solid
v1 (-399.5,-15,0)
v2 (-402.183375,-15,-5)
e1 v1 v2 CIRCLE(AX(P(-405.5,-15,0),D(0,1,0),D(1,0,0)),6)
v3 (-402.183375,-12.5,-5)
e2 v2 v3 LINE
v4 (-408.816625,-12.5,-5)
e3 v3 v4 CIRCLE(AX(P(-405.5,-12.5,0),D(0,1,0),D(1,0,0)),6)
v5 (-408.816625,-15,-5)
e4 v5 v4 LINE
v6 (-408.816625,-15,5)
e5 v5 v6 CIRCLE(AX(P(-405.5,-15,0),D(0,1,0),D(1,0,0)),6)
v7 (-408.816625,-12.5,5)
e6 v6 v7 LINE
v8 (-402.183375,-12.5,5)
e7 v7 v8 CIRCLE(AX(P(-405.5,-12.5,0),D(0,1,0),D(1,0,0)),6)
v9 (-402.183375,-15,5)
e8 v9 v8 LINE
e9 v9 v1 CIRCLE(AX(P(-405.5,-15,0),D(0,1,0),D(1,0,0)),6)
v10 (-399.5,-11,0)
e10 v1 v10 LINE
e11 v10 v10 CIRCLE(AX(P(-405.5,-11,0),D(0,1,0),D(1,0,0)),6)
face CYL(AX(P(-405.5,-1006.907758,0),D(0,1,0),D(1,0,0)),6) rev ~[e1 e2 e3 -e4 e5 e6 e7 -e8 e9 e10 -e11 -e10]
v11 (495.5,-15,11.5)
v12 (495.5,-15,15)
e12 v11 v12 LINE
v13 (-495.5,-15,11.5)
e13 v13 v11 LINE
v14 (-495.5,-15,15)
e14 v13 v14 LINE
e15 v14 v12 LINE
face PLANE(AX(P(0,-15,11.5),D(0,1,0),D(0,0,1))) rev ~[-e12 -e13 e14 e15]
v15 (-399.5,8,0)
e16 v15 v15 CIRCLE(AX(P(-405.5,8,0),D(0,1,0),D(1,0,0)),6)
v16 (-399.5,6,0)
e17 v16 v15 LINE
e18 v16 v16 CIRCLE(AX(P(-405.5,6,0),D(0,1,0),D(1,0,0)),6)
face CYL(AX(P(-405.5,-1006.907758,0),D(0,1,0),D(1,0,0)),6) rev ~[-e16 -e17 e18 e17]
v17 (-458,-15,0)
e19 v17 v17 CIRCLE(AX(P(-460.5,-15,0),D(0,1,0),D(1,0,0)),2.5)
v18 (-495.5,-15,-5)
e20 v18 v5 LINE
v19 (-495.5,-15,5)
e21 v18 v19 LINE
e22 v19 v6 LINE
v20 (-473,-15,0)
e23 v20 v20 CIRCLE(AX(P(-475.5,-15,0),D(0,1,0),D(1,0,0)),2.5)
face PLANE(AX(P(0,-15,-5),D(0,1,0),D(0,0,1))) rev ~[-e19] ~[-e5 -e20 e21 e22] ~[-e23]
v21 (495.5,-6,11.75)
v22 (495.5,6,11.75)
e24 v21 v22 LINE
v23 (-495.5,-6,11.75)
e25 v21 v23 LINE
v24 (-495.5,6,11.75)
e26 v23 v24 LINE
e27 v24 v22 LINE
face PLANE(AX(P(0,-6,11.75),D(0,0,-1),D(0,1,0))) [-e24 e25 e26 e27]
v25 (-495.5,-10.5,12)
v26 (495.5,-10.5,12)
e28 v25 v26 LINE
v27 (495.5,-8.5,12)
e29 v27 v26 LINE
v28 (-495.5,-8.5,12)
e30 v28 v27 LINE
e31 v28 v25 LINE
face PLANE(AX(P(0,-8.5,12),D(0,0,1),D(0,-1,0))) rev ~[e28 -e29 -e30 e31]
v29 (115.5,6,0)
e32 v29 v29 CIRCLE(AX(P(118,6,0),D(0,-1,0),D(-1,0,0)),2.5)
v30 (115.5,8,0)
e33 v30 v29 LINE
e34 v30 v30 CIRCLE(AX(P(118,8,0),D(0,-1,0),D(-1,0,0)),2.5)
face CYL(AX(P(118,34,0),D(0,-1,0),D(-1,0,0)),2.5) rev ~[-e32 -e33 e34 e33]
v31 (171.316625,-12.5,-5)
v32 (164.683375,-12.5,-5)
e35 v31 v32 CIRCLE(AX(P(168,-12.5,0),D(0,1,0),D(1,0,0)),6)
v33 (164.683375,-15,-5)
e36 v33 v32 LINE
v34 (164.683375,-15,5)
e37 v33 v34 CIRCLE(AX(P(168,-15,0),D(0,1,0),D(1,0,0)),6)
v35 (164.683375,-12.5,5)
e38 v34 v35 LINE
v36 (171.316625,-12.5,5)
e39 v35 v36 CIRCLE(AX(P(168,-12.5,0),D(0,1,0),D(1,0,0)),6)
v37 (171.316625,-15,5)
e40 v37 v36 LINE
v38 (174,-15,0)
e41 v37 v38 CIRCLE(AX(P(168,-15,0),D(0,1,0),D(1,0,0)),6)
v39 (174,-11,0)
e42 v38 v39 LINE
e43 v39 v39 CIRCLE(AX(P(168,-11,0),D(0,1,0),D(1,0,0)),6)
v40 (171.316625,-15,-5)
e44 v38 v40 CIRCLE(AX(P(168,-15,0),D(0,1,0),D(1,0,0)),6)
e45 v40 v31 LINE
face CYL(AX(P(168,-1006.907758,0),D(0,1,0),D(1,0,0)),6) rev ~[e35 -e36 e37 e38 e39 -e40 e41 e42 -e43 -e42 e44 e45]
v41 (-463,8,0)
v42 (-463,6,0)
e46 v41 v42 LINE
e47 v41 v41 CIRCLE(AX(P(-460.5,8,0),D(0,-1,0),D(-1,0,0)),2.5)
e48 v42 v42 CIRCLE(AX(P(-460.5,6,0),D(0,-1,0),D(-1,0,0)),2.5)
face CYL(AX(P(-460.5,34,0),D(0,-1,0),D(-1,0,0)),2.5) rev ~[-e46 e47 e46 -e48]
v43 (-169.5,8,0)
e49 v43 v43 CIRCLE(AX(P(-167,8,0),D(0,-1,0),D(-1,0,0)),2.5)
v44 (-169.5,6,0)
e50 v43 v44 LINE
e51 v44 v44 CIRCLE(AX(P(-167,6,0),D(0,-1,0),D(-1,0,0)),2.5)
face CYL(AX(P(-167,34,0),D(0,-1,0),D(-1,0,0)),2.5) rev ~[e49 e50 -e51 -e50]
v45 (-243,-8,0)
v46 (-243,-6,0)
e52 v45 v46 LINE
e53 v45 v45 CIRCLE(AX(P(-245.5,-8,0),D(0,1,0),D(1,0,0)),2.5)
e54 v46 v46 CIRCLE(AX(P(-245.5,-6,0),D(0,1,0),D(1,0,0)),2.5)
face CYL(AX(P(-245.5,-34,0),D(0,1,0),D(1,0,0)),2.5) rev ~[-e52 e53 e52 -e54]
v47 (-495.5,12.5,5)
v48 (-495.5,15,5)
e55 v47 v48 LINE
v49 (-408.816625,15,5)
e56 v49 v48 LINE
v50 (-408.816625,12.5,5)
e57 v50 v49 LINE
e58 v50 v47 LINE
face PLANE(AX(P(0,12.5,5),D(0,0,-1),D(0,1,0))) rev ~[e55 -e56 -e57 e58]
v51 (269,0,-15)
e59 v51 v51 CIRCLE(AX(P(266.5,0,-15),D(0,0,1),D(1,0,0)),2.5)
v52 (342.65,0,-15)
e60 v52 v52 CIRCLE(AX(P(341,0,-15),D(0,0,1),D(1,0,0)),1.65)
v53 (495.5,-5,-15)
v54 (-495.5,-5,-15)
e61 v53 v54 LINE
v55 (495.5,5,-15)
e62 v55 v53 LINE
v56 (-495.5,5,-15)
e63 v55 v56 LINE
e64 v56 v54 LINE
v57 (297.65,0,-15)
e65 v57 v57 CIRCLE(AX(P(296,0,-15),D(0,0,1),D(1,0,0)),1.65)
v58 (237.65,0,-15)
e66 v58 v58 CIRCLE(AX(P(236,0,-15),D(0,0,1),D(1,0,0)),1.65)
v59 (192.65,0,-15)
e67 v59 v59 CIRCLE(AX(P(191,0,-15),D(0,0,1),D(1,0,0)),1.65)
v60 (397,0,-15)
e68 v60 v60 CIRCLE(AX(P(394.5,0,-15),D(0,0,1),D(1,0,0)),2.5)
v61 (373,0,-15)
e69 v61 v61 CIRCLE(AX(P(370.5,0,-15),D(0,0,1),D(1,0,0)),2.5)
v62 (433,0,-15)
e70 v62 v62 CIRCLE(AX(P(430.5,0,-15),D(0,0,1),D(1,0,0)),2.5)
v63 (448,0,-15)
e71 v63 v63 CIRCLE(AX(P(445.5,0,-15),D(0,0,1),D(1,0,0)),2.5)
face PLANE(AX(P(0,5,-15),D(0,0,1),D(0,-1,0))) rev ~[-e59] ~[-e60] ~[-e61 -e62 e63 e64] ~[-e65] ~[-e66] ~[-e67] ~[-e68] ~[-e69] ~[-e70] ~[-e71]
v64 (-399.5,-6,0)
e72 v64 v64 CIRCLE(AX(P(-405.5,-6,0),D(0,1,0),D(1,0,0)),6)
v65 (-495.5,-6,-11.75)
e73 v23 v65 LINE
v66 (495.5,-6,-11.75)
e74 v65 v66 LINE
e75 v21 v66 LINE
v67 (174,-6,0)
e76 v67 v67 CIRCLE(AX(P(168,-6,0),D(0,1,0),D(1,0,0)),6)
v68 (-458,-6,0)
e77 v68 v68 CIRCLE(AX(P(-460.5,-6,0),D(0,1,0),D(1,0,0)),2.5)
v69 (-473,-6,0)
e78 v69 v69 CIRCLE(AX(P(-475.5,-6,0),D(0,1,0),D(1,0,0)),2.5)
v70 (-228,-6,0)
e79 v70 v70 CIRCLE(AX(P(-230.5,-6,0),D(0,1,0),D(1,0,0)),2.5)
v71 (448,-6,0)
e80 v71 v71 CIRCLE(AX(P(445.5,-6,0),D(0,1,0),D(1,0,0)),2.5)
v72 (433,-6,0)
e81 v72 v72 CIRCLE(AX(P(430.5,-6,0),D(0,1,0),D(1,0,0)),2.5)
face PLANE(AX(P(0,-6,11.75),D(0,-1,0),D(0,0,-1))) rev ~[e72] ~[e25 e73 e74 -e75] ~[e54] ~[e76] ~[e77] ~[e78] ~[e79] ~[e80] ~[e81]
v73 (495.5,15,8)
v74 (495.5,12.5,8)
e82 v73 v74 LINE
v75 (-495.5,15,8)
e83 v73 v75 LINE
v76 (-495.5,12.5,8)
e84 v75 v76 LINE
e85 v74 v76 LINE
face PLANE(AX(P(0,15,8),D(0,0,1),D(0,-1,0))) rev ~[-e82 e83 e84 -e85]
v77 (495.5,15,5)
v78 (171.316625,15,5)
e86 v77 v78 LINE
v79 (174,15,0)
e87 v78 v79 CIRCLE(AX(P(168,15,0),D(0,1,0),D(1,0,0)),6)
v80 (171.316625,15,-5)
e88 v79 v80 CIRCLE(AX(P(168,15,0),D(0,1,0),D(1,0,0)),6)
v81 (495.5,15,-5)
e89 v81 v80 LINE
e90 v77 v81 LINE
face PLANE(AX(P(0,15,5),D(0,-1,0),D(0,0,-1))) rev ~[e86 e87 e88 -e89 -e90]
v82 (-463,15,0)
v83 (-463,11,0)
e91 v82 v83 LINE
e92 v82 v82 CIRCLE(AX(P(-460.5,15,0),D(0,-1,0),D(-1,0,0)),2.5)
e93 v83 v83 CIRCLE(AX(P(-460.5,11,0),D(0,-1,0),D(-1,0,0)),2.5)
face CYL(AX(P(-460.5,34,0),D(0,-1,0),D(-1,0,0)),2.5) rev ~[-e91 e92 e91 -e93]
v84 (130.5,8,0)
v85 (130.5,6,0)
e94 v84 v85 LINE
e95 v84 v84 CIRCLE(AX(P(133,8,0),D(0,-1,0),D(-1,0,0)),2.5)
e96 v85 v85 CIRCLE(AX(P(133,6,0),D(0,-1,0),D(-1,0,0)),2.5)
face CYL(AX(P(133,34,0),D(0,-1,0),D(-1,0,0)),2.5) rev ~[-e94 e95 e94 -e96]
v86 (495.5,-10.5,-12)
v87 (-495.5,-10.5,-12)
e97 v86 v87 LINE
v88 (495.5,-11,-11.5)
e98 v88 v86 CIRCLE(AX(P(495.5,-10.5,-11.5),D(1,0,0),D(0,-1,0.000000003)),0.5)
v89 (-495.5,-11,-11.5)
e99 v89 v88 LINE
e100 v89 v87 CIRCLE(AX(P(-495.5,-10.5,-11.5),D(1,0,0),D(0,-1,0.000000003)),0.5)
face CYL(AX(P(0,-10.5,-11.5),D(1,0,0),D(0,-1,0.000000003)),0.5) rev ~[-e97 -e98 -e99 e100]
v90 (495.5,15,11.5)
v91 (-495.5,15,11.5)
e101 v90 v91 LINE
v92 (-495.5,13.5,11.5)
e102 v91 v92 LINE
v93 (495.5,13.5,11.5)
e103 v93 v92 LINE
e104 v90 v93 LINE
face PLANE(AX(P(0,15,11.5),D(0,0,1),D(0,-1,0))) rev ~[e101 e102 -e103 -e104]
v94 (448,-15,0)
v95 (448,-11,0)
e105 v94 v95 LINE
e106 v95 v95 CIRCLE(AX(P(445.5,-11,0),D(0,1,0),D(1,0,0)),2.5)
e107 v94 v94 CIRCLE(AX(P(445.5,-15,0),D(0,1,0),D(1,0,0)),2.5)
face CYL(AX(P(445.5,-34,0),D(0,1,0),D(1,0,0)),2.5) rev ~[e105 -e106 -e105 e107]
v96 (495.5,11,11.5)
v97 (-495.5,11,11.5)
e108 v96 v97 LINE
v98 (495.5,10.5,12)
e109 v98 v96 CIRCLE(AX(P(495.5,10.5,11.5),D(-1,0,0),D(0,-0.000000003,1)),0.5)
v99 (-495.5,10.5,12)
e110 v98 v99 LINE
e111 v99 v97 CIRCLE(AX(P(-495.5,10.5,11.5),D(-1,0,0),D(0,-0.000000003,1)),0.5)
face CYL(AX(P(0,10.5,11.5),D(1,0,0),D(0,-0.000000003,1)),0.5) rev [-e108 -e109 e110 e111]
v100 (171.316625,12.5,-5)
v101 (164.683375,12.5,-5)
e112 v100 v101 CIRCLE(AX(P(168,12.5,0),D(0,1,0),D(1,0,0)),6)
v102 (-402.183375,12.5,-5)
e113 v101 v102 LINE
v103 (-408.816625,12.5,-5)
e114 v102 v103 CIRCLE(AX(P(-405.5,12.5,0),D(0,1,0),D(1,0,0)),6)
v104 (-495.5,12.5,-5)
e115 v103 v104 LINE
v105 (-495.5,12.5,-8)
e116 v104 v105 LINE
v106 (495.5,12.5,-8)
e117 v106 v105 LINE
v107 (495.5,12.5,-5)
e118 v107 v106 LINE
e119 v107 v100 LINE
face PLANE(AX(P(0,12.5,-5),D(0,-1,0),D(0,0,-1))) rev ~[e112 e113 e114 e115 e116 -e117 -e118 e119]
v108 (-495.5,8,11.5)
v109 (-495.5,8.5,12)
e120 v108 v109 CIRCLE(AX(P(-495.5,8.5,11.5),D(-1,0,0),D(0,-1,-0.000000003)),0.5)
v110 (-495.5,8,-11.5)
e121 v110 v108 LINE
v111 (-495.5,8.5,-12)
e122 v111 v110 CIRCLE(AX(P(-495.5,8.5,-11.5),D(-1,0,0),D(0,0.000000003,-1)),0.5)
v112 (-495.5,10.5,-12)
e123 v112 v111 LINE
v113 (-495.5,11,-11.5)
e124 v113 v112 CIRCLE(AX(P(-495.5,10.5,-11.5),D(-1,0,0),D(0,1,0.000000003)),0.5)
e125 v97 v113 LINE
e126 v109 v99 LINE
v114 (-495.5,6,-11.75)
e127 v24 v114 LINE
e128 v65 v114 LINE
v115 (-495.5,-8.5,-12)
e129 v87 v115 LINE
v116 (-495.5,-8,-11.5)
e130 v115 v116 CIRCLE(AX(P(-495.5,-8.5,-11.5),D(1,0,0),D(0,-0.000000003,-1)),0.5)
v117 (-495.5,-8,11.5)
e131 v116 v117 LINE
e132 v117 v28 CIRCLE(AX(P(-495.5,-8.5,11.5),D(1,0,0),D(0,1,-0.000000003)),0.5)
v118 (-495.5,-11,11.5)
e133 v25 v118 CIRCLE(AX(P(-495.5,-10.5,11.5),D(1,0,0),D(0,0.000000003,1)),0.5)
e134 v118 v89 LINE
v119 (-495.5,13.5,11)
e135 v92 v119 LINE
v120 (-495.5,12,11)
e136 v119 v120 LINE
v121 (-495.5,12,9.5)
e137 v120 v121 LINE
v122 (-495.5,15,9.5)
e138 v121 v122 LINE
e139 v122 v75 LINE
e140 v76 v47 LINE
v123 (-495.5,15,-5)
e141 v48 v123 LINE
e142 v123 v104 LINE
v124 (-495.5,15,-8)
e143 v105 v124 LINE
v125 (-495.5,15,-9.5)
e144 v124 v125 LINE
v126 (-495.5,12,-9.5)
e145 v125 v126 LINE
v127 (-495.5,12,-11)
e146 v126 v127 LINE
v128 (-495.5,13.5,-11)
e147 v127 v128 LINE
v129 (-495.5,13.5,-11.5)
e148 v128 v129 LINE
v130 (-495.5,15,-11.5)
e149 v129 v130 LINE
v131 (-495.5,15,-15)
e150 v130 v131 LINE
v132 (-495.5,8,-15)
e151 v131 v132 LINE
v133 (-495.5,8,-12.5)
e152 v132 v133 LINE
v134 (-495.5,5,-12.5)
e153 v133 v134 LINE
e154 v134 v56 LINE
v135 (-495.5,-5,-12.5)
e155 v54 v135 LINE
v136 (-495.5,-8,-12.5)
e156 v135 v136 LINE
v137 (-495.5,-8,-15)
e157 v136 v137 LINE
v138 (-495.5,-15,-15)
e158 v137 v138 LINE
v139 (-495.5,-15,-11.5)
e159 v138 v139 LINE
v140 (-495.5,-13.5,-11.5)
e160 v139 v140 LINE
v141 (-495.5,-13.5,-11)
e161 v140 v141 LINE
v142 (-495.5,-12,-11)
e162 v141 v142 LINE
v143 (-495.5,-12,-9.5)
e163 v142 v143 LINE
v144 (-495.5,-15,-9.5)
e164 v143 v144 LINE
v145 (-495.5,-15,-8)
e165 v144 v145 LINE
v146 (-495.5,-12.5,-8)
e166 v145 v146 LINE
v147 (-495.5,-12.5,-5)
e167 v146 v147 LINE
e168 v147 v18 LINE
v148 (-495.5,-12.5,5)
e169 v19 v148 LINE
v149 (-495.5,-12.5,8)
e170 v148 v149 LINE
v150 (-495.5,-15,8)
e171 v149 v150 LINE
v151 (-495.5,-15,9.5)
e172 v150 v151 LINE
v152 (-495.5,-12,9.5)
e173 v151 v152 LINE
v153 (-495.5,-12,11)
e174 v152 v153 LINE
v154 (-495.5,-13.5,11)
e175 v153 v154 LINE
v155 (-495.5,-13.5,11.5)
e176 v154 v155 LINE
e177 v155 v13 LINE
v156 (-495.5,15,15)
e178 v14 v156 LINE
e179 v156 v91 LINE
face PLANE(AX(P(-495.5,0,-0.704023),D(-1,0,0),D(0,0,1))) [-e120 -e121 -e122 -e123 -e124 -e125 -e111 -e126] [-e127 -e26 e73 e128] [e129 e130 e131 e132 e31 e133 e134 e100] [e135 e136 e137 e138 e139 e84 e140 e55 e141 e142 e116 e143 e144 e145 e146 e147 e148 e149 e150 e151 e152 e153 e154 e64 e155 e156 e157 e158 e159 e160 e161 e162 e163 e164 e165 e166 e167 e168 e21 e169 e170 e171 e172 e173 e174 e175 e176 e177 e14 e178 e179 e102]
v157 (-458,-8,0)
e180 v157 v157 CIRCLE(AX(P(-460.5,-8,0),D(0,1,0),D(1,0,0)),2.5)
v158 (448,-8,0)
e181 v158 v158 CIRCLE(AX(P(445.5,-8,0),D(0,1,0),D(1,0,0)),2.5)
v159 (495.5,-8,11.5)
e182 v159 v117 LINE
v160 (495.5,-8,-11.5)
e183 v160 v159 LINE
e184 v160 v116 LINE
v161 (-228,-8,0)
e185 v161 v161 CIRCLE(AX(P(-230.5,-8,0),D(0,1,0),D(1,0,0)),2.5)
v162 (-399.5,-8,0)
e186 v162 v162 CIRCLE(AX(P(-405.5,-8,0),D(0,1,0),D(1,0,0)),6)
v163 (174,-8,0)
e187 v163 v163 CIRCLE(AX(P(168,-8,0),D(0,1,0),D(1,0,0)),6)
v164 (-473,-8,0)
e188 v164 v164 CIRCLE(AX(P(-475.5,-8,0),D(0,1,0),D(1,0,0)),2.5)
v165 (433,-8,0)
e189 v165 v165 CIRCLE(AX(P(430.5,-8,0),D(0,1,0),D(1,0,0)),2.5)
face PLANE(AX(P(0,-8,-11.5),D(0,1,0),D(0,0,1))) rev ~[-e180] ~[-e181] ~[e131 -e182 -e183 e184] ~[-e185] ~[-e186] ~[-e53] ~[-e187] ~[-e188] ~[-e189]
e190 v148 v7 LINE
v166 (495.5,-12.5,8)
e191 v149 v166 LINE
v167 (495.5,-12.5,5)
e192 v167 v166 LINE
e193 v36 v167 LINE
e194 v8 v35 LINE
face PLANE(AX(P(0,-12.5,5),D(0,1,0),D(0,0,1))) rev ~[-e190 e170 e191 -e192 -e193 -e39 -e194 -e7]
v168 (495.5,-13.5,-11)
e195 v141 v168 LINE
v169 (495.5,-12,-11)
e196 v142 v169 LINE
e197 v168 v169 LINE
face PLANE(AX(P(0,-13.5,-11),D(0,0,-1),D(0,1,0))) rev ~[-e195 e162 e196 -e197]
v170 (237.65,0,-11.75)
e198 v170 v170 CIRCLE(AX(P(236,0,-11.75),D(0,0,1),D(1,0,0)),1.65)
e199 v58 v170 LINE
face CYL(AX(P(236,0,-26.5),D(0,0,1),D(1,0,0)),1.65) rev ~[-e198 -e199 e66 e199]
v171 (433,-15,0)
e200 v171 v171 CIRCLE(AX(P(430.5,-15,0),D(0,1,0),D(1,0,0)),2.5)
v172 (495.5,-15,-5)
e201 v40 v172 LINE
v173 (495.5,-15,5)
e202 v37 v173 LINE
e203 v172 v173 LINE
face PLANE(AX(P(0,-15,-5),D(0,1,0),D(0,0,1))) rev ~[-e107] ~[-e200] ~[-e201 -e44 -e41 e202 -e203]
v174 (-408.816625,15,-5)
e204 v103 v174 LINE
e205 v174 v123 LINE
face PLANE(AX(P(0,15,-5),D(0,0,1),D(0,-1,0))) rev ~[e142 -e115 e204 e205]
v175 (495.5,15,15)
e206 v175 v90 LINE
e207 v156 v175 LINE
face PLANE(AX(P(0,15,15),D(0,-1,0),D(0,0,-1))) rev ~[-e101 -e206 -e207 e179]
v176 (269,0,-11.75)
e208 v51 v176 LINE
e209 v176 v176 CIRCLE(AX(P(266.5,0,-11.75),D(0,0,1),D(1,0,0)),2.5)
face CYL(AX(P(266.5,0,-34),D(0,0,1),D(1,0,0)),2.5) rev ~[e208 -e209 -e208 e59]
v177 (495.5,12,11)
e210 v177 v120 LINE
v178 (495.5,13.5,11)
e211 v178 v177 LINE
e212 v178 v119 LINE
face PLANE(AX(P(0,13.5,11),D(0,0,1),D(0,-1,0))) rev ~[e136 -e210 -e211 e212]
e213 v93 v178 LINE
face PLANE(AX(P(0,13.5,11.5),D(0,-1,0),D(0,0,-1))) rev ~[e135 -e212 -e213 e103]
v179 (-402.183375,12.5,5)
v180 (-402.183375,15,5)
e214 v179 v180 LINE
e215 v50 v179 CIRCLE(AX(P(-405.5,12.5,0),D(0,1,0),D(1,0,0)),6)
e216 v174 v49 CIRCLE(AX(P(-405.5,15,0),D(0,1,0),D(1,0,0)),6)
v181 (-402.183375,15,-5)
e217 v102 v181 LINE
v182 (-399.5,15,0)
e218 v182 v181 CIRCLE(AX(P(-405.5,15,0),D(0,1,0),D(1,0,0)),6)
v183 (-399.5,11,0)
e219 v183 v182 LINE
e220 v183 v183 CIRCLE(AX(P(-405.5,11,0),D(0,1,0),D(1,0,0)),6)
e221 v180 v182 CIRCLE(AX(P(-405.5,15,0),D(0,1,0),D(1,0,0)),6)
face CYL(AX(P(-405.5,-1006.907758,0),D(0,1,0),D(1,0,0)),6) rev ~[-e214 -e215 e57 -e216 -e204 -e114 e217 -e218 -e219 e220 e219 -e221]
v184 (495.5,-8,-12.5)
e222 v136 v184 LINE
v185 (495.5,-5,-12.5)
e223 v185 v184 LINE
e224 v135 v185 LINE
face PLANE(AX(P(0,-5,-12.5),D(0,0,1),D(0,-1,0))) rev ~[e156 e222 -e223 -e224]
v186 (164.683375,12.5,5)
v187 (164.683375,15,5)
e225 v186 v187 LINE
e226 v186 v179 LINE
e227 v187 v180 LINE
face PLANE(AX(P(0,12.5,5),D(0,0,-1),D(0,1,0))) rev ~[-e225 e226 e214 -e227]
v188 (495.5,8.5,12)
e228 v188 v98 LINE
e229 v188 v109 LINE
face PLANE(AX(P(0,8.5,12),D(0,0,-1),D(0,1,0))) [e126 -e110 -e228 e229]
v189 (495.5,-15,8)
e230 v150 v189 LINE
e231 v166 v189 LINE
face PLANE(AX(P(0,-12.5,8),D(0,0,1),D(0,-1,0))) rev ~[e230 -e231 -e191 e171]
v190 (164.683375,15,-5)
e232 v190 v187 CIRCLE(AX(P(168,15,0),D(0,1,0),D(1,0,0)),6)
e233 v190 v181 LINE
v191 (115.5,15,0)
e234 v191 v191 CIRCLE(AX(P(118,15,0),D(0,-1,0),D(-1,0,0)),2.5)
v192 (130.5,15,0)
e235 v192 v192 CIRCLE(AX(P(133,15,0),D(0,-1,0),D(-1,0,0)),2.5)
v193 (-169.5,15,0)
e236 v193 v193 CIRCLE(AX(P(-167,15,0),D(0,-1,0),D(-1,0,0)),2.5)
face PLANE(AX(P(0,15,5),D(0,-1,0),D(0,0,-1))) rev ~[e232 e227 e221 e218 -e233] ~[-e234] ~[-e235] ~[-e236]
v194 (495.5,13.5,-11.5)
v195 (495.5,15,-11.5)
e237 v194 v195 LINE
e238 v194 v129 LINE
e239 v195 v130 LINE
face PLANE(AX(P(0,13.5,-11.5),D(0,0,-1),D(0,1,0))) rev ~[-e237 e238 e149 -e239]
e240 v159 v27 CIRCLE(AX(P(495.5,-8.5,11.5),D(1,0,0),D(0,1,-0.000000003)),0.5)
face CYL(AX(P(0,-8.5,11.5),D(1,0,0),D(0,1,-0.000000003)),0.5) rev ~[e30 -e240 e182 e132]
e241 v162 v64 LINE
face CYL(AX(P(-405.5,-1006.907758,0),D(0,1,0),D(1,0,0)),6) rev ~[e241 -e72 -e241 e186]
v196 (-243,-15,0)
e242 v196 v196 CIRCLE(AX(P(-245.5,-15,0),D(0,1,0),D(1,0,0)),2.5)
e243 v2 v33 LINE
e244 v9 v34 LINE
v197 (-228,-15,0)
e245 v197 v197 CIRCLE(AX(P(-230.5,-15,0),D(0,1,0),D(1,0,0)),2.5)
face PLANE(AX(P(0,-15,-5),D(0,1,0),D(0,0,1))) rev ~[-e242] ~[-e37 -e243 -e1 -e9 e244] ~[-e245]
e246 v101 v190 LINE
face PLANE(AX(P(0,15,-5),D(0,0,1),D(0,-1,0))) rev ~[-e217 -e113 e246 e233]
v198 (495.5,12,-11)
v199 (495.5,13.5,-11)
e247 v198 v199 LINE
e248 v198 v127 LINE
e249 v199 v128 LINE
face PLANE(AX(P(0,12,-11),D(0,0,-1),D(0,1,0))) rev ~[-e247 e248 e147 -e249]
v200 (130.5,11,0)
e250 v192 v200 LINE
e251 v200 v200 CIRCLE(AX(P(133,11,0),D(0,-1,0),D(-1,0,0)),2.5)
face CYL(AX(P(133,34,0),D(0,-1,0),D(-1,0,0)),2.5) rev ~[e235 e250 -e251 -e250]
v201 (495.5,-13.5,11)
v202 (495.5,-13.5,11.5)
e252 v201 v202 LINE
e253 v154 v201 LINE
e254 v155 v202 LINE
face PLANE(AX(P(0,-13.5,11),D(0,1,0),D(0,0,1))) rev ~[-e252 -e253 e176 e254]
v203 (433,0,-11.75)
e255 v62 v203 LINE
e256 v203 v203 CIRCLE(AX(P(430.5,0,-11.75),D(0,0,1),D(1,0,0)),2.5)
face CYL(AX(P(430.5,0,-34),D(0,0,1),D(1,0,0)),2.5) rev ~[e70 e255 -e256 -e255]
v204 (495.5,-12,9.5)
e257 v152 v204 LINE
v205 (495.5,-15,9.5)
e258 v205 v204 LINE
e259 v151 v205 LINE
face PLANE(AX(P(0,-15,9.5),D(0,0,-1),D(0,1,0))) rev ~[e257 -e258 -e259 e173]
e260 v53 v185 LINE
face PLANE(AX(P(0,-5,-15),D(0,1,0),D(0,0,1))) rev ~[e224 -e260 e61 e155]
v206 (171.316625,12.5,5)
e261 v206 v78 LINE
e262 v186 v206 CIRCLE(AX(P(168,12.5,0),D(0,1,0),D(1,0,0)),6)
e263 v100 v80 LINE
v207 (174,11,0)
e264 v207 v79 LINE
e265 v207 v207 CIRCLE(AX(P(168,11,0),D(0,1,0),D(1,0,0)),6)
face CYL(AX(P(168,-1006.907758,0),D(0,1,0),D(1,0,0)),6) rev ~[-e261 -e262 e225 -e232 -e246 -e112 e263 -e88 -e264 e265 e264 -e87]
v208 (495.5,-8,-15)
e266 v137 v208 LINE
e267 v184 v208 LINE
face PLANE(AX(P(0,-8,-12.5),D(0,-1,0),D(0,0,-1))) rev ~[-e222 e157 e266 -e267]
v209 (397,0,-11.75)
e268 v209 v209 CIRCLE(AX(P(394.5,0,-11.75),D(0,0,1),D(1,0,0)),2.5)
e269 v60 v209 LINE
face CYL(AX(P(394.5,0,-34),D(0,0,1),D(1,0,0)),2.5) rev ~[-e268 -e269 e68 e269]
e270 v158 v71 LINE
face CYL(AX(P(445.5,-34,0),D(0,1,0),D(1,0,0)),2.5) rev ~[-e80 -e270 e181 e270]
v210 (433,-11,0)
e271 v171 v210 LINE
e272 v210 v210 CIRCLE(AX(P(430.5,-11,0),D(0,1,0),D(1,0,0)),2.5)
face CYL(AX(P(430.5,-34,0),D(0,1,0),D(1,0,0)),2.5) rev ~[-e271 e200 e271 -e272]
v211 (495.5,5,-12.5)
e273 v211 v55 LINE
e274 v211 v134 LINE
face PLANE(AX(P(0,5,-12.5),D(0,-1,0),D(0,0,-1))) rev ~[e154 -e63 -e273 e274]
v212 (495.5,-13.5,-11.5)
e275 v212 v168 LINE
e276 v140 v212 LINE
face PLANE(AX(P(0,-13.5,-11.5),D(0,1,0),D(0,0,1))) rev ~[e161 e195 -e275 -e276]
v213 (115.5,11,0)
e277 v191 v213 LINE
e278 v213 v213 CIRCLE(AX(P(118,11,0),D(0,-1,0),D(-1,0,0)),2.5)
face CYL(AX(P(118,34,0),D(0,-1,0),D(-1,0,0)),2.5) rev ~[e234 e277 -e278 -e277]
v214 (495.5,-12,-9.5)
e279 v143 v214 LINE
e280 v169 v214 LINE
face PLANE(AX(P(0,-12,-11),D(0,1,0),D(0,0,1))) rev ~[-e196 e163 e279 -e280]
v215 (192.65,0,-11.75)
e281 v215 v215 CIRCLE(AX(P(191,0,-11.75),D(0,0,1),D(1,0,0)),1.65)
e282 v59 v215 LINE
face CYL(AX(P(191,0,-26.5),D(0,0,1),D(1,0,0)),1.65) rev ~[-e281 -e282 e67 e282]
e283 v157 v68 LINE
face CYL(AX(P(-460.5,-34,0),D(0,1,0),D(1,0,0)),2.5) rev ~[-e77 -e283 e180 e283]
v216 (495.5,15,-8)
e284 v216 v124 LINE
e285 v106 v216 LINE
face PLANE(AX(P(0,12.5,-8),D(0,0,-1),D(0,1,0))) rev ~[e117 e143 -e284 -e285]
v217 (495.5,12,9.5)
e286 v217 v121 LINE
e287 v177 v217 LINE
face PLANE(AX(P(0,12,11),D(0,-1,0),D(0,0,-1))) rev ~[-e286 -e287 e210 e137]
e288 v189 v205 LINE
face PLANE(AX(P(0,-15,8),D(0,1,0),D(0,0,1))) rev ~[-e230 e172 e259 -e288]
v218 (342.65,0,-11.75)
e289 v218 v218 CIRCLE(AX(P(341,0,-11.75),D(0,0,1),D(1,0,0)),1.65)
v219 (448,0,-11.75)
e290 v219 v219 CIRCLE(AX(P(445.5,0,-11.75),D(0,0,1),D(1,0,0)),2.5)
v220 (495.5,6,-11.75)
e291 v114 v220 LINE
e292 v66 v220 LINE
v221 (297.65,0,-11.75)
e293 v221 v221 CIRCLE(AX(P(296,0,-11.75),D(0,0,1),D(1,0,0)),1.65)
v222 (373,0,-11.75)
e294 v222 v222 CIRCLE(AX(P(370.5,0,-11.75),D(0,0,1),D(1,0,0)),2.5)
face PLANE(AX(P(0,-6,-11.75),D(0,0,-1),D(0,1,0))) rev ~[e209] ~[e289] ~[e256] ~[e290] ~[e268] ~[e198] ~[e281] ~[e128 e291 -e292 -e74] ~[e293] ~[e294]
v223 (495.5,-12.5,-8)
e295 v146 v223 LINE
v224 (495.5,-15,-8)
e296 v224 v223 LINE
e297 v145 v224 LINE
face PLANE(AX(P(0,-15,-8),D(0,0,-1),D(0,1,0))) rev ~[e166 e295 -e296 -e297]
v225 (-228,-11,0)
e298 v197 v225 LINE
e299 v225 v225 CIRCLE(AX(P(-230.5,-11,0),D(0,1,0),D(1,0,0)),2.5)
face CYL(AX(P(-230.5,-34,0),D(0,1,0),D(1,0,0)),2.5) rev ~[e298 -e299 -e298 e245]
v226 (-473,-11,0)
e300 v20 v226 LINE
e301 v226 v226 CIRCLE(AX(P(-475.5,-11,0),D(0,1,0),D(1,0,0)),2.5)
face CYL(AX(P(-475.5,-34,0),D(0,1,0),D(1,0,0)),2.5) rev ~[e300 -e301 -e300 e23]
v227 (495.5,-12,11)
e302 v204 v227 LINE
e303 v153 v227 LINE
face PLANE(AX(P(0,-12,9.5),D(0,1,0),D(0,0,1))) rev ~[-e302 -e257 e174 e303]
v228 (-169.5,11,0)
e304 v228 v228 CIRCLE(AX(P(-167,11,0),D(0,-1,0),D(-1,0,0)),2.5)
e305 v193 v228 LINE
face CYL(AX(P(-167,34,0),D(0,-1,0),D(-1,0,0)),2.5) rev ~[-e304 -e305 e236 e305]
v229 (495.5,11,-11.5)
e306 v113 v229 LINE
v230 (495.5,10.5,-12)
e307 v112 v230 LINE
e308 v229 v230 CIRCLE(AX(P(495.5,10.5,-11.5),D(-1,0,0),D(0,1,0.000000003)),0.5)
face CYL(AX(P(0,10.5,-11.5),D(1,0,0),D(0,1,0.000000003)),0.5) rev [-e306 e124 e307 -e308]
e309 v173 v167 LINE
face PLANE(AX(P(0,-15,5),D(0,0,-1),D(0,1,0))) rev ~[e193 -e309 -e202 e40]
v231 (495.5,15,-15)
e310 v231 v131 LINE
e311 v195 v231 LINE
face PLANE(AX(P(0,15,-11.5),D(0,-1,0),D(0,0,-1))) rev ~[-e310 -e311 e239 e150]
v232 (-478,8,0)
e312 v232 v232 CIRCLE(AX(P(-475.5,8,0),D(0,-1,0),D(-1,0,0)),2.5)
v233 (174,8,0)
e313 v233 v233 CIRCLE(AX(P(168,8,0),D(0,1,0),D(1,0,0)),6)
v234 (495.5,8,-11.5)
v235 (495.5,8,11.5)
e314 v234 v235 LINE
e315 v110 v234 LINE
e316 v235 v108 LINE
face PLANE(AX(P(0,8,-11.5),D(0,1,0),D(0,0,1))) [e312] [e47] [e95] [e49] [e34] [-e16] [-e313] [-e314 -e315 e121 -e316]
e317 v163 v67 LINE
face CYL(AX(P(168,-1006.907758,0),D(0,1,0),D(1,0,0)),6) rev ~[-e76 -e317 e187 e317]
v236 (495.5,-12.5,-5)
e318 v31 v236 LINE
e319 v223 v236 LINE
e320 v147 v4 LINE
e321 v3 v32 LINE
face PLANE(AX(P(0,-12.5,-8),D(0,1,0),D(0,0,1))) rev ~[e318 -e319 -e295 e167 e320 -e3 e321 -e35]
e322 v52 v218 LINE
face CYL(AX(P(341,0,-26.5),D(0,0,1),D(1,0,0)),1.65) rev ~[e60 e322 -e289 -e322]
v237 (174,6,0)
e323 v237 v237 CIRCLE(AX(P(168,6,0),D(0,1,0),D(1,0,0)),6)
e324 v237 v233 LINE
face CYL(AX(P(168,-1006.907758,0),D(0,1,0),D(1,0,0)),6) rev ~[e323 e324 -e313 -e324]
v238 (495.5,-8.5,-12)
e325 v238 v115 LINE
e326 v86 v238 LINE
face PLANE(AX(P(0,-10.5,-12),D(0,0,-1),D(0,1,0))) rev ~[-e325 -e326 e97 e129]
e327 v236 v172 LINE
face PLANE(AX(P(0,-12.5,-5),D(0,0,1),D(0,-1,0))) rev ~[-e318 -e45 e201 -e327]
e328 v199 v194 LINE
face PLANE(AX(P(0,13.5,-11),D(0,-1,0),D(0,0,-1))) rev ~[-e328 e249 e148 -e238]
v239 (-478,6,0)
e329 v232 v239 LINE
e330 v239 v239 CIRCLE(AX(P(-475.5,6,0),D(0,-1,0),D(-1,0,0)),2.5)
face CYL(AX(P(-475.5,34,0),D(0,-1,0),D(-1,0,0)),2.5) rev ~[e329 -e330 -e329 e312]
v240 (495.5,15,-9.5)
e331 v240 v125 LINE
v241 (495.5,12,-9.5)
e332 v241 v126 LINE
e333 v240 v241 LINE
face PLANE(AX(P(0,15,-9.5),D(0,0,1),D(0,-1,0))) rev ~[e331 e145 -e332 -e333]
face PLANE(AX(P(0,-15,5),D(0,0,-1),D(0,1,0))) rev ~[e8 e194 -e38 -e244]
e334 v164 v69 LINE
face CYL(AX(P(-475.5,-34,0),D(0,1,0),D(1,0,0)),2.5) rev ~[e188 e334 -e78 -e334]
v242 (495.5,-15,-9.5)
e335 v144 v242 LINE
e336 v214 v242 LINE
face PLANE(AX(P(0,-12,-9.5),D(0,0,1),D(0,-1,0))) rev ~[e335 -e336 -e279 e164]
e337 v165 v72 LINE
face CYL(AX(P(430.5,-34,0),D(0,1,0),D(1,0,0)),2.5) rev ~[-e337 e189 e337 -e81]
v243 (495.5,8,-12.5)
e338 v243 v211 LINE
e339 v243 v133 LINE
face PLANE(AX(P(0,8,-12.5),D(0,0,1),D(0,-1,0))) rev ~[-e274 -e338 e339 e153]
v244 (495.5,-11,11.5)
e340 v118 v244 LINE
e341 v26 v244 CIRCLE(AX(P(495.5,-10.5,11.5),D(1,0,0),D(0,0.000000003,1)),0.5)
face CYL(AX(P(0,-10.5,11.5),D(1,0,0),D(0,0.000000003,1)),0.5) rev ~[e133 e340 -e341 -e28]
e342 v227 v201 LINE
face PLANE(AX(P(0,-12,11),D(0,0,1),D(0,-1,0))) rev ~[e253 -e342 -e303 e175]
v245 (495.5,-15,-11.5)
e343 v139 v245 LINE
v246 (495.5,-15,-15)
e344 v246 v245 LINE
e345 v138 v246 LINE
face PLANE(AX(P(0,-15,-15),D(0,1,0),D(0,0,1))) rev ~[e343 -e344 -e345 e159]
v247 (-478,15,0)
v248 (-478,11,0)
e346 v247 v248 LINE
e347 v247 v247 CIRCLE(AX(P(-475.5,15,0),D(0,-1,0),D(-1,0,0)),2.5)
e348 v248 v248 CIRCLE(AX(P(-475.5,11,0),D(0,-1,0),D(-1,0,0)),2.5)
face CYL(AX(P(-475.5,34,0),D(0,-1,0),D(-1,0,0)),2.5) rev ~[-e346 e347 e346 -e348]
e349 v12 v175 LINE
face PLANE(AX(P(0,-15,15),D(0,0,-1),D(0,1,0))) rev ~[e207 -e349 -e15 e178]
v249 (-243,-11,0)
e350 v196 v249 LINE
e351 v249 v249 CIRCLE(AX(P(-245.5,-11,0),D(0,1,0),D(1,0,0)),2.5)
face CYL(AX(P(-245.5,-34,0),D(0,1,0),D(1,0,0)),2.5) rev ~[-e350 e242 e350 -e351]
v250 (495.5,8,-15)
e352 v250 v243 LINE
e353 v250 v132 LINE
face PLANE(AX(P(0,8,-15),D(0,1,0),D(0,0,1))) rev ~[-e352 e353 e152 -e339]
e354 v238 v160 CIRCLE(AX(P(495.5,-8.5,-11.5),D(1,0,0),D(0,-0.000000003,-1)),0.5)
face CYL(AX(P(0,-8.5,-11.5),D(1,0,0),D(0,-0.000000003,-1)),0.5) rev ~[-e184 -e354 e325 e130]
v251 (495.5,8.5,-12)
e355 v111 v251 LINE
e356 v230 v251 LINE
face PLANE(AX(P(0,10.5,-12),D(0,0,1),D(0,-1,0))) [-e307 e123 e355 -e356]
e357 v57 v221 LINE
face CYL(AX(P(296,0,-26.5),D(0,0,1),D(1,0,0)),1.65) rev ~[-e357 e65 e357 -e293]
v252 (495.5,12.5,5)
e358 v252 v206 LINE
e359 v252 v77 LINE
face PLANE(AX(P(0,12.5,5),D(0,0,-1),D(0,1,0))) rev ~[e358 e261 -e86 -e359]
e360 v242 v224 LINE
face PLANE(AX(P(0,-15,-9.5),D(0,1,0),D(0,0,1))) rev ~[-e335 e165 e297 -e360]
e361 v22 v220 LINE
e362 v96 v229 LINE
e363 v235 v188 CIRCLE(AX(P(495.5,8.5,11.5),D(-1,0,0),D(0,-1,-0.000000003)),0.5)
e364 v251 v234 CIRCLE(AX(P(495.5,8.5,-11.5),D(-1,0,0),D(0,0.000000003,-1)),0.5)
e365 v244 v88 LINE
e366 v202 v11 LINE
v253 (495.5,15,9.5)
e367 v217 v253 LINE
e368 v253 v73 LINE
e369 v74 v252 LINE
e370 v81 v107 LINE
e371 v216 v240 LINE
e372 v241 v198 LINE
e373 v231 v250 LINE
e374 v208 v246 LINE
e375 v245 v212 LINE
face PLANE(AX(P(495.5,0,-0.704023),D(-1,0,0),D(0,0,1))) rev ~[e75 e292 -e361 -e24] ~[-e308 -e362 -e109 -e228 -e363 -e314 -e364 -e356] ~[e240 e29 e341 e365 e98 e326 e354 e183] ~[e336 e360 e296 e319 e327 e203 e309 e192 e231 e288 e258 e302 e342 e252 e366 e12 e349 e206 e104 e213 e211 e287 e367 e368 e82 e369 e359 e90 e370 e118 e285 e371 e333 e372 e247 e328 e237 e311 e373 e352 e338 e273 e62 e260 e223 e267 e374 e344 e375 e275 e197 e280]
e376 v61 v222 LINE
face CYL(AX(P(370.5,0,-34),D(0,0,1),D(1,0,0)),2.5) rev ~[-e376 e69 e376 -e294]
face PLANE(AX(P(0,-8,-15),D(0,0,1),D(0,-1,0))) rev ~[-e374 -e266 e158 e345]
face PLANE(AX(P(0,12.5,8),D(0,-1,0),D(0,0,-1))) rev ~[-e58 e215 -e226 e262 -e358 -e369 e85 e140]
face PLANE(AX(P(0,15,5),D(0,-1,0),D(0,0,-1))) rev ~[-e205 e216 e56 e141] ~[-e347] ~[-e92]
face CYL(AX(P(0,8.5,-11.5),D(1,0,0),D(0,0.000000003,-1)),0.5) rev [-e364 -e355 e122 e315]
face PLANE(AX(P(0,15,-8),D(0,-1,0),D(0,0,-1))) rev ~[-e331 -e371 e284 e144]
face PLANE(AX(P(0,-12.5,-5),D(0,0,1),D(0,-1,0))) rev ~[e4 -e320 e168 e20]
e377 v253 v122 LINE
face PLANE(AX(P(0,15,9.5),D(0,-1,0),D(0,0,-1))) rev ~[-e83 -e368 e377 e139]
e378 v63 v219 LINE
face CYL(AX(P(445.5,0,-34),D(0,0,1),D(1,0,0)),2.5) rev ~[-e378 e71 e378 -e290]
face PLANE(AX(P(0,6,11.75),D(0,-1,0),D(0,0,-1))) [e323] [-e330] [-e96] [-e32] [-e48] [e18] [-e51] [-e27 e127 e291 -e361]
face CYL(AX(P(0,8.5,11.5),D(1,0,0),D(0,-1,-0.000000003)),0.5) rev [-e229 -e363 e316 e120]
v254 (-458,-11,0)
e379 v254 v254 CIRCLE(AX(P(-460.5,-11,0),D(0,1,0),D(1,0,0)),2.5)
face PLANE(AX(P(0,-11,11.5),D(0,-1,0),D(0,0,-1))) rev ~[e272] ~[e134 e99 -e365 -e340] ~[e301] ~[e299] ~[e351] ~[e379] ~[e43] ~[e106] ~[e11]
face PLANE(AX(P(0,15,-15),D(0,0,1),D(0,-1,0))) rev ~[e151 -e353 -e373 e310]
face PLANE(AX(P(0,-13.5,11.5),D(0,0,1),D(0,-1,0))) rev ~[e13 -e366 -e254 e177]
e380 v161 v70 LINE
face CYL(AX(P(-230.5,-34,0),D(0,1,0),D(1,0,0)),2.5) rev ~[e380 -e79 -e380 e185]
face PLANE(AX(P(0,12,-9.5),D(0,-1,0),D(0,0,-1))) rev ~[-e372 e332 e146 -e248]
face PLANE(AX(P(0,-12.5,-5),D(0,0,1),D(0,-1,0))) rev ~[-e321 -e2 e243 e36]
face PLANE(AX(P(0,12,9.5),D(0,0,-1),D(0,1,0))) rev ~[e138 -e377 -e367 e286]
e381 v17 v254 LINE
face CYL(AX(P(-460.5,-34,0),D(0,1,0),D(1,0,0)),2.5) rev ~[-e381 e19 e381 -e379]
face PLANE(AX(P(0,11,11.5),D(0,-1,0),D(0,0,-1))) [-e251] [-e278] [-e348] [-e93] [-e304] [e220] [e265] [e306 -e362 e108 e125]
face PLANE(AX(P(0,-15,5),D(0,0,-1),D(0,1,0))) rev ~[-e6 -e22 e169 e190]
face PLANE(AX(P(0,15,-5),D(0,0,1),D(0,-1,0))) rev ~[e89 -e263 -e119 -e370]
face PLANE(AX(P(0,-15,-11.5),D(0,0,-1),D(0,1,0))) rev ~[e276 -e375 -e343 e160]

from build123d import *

# Parameters (mm, degrees)
SKETCH_1_W              = 23.5
SKETCH_1_H              = 12
EXTRUDE_1_DEPTH         = 495.5
HOLE_WIZARD_M6_1_D      = 5
HOLE_WIZARD_M6_1_DEPTH  = 19
HOLE_WIZARD_M6_1_TIP    = 1.502151548
HOLE_WIZARD_M6_2_D      = 5
HOLE_WIZARD_M6_2_DEPTH  = 19
HOLE_WIZARD_M6_2_TIP    = 1.502151548
HOLE_WIZARD_M6_3_D      = 5
HOLE_WIZARD_M6_3_DEPTH  = 19
HOLE_WIZARD_M6_3_TIP    = 1.502151548
HOLE_WIZARD_12_0_12_1_D = 12
HOLE_WIZARD_M4_1_D      = 3.3
HOLE_WIZARD_M4_1_DEPTH  = 11.5
HOLE_WIZARD_M4_1_TIP    = 0.991420021


with BuildPart() as part:
    # 草图1 → 凸台-拉伸1 (new, symmetric)
    with BuildSketch(Plane(origin=(0, 0, 0), x_dir=(0, 0, -1), z_dir=(1, 0, 0))):
        Polygon((-15, 15), (-11.5, 15), (-11.5, 13.5), (-11, 13.5), (-11, 12), (-9.5, 12), (-9.5, 15), (-8, 15), (-8, 12.5), (-5, 12.5), (-5, 15), (5, 15), (5, 12.5), (8, 12.5), (8, 15), (9.5, 15), (9.5, 12), (11, 12), (11, 13.5), (11.5, 13.5), (11.5, 15), (15, 15), (15, 8), (12.5, 8), (12.5, 5), (15, 5), (15, -5), (12.5, -5), (12.5, -8), (15, -8), (15, -15), (11.5, -15), (11.5, -13.5), (11, -13.5), (11, -12), (9.5, -12), (9.5, -15), (8, -15), (8, -12.5), (5, -12.5), (5, -15), (-5, -15), (-5, -12.5), (-8, -12.5), (-8, -15), (-9.5, -15), (-9.5, -12), (-11, -12), (-11, -13.5), (-11.5, -13.5), (-11.5, -15), (-15, -15), align=None)
        with BuildLine():
            Line((12, -10.5), (12, -8.5))
            ThreePointArc((12, -8.5), (11.853553391, -8.146446609), (11.5, -8))
            Line((11.5, -8), (-11.5, -8))
            ThreePointArc((-11.5, -8), (-11.853553391, -8.146446609), (-12, -8.5))
            Line((-12, -8.5), (-12, -10.5))
            ThreePointArc((-12, -10.5), (-11.853553391, -10.853553391), (-11.5, -11))
            Line((-11.5, -11), (11.5, -11))
            ThreePointArc((11.5, -11), (11.853553391, -10.853553391), (12, -10.5))
        make_face(mode=Mode.SUBTRACT)
        with BuildLine():
            Line((-11.5, 11), (11.5, 11))
            ThreePointArc((11.5, 11), (11.853553391, 10.853553391), (12, 10.5))
            Line((12, 10.5), (12, 8.5))
            ThreePointArc((12, 8.5), (11.853553391, 8.146446609), (11.5, 8))
            Line((11.5, 8), (-11.5, 8))
            ThreePointArc((-11.5, 8), (-11.853553391, 8.146446609), (-12, 8.5))
            Line((-12, 8.5), (-12, 10.5))
            ThreePointArc((-12, 10.5), (-11.853553391, 10.853553391), (-11.5, 11))
        make_face(mode=Mode.SUBTRACT)
        Rectangle(SKETCH_1_W, SKETCH_1_H, mode=Mode.SUBTRACT)
    extrude(amount=EXTRUDE_1_DEPTH, both=True)

    # M6 螺纹孔1
    with Locations(Plane(origin=(0, -15, 0), x_dir=(-1, 0, 0), z_dir=(0, -1, 0))):
        with Locations((-445.5, 0), (-430.5, 0), (230.5, 0), (245.5, 0), (460.5, 0), (475.5, 0)):
            Hole(HOLE_WIZARD_M6_1_D / 2, depth=HOLE_WIZARD_M6_1_DEPTH)
            with Locations((0, 0, -(HOLE_WIZARD_M6_1_DEPTH + HOLE_WIZARD_M6_1_TIP / 2))):  # 118° drill point
                Cone(0, HOLE_WIZARD_M6_1_D / 2, HOLE_WIZARD_M6_1_TIP, mode=Mode.SUBTRACT)

    # M6 螺纹孔2
    with Locations(Plane(origin=(0, 0, -15), x_dir=(-1, 0, 0), z_dir=(0, 0, -1))):
        with Locations((-445.5, 0), (-430.5, 0), (-370.5, 0), (-266.5, 0), (-394.5, 0)):
            Hole(HOLE_WIZARD_M6_2_D / 2, depth=HOLE_WIZARD_M6_2_DEPTH)
            with Locations((0, 0, -(HOLE_WIZARD_M6_2_DEPTH + HOLE_WIZARD_M6_2_TIP / 2))):  # 118° drill point
                Cone(0, HOLE_WIZARD_M6_2_D / 2, HOLE_WIZARD_M6_2_TIP, mode=Mode.SUBTRACT)

    # M6 螺纹孔3
    with Locations(Plane(origin=(0, 15, 0), x_dir=(1, 0, 0), z_dir=(0, 1, 0))):
        with Locations((133, 0), (118, 0), (-460.5, 0), (-475.5, 0), (-167, 0)):
            Hole(HOLE_WIZARD_M6_3_D / 2, depth=HOLE_WIZARD_M6_3_DEPTH)
            with Locations((0, 0, -(HOLE_WIZARD_M6_3_DEPTH + HOLE_WIZARD_M6_3_TIP / 2))):  # 118° drill point
                Cone(0, HOLE_WIZARD_M6_3_D / 2, HOLE_WIZARD_M6_3_TIP, mode=Mode.SUBTRACT)

    # Ø12.0 (12) 直径孔1 (through all)
    with Locations(Plane(origin=(0, -15, 0), x_dir=(-1, 0, 0), z_dir=(0, -1, 0))):
        with Locations((-168, 0), (405.5, 0)):
            Hole(HOLE_WIZARD_12_0_12_1_D / 2)

    # M4 螺纹孔1
    with Locations(Plane(origin=(0, 0, -15), x_dir=(-1, 0, 0), z_dir=(0, 0, -1))):
        with Locations((-341, 0), (-296, 0), (-236, 0), (-191, 0)):
            Hole(HOLE_WIZARD_M4_1_D / 2, depth=HOLE_WIZARD_M4_1_DEPTH)
            with Locations((0, 0, -(HOLE_WIZARD_M4_1_DEPTH + HOLE_WIZARD_M4_1_TIP / 2))):  # 118° drill point
                Cone(0, HOLE_WIZARD_M4_1_D / 2, HOLE_WIZARD_M4_1_TIP, mode=Mode.SUBTRACT)


solid = part.part
